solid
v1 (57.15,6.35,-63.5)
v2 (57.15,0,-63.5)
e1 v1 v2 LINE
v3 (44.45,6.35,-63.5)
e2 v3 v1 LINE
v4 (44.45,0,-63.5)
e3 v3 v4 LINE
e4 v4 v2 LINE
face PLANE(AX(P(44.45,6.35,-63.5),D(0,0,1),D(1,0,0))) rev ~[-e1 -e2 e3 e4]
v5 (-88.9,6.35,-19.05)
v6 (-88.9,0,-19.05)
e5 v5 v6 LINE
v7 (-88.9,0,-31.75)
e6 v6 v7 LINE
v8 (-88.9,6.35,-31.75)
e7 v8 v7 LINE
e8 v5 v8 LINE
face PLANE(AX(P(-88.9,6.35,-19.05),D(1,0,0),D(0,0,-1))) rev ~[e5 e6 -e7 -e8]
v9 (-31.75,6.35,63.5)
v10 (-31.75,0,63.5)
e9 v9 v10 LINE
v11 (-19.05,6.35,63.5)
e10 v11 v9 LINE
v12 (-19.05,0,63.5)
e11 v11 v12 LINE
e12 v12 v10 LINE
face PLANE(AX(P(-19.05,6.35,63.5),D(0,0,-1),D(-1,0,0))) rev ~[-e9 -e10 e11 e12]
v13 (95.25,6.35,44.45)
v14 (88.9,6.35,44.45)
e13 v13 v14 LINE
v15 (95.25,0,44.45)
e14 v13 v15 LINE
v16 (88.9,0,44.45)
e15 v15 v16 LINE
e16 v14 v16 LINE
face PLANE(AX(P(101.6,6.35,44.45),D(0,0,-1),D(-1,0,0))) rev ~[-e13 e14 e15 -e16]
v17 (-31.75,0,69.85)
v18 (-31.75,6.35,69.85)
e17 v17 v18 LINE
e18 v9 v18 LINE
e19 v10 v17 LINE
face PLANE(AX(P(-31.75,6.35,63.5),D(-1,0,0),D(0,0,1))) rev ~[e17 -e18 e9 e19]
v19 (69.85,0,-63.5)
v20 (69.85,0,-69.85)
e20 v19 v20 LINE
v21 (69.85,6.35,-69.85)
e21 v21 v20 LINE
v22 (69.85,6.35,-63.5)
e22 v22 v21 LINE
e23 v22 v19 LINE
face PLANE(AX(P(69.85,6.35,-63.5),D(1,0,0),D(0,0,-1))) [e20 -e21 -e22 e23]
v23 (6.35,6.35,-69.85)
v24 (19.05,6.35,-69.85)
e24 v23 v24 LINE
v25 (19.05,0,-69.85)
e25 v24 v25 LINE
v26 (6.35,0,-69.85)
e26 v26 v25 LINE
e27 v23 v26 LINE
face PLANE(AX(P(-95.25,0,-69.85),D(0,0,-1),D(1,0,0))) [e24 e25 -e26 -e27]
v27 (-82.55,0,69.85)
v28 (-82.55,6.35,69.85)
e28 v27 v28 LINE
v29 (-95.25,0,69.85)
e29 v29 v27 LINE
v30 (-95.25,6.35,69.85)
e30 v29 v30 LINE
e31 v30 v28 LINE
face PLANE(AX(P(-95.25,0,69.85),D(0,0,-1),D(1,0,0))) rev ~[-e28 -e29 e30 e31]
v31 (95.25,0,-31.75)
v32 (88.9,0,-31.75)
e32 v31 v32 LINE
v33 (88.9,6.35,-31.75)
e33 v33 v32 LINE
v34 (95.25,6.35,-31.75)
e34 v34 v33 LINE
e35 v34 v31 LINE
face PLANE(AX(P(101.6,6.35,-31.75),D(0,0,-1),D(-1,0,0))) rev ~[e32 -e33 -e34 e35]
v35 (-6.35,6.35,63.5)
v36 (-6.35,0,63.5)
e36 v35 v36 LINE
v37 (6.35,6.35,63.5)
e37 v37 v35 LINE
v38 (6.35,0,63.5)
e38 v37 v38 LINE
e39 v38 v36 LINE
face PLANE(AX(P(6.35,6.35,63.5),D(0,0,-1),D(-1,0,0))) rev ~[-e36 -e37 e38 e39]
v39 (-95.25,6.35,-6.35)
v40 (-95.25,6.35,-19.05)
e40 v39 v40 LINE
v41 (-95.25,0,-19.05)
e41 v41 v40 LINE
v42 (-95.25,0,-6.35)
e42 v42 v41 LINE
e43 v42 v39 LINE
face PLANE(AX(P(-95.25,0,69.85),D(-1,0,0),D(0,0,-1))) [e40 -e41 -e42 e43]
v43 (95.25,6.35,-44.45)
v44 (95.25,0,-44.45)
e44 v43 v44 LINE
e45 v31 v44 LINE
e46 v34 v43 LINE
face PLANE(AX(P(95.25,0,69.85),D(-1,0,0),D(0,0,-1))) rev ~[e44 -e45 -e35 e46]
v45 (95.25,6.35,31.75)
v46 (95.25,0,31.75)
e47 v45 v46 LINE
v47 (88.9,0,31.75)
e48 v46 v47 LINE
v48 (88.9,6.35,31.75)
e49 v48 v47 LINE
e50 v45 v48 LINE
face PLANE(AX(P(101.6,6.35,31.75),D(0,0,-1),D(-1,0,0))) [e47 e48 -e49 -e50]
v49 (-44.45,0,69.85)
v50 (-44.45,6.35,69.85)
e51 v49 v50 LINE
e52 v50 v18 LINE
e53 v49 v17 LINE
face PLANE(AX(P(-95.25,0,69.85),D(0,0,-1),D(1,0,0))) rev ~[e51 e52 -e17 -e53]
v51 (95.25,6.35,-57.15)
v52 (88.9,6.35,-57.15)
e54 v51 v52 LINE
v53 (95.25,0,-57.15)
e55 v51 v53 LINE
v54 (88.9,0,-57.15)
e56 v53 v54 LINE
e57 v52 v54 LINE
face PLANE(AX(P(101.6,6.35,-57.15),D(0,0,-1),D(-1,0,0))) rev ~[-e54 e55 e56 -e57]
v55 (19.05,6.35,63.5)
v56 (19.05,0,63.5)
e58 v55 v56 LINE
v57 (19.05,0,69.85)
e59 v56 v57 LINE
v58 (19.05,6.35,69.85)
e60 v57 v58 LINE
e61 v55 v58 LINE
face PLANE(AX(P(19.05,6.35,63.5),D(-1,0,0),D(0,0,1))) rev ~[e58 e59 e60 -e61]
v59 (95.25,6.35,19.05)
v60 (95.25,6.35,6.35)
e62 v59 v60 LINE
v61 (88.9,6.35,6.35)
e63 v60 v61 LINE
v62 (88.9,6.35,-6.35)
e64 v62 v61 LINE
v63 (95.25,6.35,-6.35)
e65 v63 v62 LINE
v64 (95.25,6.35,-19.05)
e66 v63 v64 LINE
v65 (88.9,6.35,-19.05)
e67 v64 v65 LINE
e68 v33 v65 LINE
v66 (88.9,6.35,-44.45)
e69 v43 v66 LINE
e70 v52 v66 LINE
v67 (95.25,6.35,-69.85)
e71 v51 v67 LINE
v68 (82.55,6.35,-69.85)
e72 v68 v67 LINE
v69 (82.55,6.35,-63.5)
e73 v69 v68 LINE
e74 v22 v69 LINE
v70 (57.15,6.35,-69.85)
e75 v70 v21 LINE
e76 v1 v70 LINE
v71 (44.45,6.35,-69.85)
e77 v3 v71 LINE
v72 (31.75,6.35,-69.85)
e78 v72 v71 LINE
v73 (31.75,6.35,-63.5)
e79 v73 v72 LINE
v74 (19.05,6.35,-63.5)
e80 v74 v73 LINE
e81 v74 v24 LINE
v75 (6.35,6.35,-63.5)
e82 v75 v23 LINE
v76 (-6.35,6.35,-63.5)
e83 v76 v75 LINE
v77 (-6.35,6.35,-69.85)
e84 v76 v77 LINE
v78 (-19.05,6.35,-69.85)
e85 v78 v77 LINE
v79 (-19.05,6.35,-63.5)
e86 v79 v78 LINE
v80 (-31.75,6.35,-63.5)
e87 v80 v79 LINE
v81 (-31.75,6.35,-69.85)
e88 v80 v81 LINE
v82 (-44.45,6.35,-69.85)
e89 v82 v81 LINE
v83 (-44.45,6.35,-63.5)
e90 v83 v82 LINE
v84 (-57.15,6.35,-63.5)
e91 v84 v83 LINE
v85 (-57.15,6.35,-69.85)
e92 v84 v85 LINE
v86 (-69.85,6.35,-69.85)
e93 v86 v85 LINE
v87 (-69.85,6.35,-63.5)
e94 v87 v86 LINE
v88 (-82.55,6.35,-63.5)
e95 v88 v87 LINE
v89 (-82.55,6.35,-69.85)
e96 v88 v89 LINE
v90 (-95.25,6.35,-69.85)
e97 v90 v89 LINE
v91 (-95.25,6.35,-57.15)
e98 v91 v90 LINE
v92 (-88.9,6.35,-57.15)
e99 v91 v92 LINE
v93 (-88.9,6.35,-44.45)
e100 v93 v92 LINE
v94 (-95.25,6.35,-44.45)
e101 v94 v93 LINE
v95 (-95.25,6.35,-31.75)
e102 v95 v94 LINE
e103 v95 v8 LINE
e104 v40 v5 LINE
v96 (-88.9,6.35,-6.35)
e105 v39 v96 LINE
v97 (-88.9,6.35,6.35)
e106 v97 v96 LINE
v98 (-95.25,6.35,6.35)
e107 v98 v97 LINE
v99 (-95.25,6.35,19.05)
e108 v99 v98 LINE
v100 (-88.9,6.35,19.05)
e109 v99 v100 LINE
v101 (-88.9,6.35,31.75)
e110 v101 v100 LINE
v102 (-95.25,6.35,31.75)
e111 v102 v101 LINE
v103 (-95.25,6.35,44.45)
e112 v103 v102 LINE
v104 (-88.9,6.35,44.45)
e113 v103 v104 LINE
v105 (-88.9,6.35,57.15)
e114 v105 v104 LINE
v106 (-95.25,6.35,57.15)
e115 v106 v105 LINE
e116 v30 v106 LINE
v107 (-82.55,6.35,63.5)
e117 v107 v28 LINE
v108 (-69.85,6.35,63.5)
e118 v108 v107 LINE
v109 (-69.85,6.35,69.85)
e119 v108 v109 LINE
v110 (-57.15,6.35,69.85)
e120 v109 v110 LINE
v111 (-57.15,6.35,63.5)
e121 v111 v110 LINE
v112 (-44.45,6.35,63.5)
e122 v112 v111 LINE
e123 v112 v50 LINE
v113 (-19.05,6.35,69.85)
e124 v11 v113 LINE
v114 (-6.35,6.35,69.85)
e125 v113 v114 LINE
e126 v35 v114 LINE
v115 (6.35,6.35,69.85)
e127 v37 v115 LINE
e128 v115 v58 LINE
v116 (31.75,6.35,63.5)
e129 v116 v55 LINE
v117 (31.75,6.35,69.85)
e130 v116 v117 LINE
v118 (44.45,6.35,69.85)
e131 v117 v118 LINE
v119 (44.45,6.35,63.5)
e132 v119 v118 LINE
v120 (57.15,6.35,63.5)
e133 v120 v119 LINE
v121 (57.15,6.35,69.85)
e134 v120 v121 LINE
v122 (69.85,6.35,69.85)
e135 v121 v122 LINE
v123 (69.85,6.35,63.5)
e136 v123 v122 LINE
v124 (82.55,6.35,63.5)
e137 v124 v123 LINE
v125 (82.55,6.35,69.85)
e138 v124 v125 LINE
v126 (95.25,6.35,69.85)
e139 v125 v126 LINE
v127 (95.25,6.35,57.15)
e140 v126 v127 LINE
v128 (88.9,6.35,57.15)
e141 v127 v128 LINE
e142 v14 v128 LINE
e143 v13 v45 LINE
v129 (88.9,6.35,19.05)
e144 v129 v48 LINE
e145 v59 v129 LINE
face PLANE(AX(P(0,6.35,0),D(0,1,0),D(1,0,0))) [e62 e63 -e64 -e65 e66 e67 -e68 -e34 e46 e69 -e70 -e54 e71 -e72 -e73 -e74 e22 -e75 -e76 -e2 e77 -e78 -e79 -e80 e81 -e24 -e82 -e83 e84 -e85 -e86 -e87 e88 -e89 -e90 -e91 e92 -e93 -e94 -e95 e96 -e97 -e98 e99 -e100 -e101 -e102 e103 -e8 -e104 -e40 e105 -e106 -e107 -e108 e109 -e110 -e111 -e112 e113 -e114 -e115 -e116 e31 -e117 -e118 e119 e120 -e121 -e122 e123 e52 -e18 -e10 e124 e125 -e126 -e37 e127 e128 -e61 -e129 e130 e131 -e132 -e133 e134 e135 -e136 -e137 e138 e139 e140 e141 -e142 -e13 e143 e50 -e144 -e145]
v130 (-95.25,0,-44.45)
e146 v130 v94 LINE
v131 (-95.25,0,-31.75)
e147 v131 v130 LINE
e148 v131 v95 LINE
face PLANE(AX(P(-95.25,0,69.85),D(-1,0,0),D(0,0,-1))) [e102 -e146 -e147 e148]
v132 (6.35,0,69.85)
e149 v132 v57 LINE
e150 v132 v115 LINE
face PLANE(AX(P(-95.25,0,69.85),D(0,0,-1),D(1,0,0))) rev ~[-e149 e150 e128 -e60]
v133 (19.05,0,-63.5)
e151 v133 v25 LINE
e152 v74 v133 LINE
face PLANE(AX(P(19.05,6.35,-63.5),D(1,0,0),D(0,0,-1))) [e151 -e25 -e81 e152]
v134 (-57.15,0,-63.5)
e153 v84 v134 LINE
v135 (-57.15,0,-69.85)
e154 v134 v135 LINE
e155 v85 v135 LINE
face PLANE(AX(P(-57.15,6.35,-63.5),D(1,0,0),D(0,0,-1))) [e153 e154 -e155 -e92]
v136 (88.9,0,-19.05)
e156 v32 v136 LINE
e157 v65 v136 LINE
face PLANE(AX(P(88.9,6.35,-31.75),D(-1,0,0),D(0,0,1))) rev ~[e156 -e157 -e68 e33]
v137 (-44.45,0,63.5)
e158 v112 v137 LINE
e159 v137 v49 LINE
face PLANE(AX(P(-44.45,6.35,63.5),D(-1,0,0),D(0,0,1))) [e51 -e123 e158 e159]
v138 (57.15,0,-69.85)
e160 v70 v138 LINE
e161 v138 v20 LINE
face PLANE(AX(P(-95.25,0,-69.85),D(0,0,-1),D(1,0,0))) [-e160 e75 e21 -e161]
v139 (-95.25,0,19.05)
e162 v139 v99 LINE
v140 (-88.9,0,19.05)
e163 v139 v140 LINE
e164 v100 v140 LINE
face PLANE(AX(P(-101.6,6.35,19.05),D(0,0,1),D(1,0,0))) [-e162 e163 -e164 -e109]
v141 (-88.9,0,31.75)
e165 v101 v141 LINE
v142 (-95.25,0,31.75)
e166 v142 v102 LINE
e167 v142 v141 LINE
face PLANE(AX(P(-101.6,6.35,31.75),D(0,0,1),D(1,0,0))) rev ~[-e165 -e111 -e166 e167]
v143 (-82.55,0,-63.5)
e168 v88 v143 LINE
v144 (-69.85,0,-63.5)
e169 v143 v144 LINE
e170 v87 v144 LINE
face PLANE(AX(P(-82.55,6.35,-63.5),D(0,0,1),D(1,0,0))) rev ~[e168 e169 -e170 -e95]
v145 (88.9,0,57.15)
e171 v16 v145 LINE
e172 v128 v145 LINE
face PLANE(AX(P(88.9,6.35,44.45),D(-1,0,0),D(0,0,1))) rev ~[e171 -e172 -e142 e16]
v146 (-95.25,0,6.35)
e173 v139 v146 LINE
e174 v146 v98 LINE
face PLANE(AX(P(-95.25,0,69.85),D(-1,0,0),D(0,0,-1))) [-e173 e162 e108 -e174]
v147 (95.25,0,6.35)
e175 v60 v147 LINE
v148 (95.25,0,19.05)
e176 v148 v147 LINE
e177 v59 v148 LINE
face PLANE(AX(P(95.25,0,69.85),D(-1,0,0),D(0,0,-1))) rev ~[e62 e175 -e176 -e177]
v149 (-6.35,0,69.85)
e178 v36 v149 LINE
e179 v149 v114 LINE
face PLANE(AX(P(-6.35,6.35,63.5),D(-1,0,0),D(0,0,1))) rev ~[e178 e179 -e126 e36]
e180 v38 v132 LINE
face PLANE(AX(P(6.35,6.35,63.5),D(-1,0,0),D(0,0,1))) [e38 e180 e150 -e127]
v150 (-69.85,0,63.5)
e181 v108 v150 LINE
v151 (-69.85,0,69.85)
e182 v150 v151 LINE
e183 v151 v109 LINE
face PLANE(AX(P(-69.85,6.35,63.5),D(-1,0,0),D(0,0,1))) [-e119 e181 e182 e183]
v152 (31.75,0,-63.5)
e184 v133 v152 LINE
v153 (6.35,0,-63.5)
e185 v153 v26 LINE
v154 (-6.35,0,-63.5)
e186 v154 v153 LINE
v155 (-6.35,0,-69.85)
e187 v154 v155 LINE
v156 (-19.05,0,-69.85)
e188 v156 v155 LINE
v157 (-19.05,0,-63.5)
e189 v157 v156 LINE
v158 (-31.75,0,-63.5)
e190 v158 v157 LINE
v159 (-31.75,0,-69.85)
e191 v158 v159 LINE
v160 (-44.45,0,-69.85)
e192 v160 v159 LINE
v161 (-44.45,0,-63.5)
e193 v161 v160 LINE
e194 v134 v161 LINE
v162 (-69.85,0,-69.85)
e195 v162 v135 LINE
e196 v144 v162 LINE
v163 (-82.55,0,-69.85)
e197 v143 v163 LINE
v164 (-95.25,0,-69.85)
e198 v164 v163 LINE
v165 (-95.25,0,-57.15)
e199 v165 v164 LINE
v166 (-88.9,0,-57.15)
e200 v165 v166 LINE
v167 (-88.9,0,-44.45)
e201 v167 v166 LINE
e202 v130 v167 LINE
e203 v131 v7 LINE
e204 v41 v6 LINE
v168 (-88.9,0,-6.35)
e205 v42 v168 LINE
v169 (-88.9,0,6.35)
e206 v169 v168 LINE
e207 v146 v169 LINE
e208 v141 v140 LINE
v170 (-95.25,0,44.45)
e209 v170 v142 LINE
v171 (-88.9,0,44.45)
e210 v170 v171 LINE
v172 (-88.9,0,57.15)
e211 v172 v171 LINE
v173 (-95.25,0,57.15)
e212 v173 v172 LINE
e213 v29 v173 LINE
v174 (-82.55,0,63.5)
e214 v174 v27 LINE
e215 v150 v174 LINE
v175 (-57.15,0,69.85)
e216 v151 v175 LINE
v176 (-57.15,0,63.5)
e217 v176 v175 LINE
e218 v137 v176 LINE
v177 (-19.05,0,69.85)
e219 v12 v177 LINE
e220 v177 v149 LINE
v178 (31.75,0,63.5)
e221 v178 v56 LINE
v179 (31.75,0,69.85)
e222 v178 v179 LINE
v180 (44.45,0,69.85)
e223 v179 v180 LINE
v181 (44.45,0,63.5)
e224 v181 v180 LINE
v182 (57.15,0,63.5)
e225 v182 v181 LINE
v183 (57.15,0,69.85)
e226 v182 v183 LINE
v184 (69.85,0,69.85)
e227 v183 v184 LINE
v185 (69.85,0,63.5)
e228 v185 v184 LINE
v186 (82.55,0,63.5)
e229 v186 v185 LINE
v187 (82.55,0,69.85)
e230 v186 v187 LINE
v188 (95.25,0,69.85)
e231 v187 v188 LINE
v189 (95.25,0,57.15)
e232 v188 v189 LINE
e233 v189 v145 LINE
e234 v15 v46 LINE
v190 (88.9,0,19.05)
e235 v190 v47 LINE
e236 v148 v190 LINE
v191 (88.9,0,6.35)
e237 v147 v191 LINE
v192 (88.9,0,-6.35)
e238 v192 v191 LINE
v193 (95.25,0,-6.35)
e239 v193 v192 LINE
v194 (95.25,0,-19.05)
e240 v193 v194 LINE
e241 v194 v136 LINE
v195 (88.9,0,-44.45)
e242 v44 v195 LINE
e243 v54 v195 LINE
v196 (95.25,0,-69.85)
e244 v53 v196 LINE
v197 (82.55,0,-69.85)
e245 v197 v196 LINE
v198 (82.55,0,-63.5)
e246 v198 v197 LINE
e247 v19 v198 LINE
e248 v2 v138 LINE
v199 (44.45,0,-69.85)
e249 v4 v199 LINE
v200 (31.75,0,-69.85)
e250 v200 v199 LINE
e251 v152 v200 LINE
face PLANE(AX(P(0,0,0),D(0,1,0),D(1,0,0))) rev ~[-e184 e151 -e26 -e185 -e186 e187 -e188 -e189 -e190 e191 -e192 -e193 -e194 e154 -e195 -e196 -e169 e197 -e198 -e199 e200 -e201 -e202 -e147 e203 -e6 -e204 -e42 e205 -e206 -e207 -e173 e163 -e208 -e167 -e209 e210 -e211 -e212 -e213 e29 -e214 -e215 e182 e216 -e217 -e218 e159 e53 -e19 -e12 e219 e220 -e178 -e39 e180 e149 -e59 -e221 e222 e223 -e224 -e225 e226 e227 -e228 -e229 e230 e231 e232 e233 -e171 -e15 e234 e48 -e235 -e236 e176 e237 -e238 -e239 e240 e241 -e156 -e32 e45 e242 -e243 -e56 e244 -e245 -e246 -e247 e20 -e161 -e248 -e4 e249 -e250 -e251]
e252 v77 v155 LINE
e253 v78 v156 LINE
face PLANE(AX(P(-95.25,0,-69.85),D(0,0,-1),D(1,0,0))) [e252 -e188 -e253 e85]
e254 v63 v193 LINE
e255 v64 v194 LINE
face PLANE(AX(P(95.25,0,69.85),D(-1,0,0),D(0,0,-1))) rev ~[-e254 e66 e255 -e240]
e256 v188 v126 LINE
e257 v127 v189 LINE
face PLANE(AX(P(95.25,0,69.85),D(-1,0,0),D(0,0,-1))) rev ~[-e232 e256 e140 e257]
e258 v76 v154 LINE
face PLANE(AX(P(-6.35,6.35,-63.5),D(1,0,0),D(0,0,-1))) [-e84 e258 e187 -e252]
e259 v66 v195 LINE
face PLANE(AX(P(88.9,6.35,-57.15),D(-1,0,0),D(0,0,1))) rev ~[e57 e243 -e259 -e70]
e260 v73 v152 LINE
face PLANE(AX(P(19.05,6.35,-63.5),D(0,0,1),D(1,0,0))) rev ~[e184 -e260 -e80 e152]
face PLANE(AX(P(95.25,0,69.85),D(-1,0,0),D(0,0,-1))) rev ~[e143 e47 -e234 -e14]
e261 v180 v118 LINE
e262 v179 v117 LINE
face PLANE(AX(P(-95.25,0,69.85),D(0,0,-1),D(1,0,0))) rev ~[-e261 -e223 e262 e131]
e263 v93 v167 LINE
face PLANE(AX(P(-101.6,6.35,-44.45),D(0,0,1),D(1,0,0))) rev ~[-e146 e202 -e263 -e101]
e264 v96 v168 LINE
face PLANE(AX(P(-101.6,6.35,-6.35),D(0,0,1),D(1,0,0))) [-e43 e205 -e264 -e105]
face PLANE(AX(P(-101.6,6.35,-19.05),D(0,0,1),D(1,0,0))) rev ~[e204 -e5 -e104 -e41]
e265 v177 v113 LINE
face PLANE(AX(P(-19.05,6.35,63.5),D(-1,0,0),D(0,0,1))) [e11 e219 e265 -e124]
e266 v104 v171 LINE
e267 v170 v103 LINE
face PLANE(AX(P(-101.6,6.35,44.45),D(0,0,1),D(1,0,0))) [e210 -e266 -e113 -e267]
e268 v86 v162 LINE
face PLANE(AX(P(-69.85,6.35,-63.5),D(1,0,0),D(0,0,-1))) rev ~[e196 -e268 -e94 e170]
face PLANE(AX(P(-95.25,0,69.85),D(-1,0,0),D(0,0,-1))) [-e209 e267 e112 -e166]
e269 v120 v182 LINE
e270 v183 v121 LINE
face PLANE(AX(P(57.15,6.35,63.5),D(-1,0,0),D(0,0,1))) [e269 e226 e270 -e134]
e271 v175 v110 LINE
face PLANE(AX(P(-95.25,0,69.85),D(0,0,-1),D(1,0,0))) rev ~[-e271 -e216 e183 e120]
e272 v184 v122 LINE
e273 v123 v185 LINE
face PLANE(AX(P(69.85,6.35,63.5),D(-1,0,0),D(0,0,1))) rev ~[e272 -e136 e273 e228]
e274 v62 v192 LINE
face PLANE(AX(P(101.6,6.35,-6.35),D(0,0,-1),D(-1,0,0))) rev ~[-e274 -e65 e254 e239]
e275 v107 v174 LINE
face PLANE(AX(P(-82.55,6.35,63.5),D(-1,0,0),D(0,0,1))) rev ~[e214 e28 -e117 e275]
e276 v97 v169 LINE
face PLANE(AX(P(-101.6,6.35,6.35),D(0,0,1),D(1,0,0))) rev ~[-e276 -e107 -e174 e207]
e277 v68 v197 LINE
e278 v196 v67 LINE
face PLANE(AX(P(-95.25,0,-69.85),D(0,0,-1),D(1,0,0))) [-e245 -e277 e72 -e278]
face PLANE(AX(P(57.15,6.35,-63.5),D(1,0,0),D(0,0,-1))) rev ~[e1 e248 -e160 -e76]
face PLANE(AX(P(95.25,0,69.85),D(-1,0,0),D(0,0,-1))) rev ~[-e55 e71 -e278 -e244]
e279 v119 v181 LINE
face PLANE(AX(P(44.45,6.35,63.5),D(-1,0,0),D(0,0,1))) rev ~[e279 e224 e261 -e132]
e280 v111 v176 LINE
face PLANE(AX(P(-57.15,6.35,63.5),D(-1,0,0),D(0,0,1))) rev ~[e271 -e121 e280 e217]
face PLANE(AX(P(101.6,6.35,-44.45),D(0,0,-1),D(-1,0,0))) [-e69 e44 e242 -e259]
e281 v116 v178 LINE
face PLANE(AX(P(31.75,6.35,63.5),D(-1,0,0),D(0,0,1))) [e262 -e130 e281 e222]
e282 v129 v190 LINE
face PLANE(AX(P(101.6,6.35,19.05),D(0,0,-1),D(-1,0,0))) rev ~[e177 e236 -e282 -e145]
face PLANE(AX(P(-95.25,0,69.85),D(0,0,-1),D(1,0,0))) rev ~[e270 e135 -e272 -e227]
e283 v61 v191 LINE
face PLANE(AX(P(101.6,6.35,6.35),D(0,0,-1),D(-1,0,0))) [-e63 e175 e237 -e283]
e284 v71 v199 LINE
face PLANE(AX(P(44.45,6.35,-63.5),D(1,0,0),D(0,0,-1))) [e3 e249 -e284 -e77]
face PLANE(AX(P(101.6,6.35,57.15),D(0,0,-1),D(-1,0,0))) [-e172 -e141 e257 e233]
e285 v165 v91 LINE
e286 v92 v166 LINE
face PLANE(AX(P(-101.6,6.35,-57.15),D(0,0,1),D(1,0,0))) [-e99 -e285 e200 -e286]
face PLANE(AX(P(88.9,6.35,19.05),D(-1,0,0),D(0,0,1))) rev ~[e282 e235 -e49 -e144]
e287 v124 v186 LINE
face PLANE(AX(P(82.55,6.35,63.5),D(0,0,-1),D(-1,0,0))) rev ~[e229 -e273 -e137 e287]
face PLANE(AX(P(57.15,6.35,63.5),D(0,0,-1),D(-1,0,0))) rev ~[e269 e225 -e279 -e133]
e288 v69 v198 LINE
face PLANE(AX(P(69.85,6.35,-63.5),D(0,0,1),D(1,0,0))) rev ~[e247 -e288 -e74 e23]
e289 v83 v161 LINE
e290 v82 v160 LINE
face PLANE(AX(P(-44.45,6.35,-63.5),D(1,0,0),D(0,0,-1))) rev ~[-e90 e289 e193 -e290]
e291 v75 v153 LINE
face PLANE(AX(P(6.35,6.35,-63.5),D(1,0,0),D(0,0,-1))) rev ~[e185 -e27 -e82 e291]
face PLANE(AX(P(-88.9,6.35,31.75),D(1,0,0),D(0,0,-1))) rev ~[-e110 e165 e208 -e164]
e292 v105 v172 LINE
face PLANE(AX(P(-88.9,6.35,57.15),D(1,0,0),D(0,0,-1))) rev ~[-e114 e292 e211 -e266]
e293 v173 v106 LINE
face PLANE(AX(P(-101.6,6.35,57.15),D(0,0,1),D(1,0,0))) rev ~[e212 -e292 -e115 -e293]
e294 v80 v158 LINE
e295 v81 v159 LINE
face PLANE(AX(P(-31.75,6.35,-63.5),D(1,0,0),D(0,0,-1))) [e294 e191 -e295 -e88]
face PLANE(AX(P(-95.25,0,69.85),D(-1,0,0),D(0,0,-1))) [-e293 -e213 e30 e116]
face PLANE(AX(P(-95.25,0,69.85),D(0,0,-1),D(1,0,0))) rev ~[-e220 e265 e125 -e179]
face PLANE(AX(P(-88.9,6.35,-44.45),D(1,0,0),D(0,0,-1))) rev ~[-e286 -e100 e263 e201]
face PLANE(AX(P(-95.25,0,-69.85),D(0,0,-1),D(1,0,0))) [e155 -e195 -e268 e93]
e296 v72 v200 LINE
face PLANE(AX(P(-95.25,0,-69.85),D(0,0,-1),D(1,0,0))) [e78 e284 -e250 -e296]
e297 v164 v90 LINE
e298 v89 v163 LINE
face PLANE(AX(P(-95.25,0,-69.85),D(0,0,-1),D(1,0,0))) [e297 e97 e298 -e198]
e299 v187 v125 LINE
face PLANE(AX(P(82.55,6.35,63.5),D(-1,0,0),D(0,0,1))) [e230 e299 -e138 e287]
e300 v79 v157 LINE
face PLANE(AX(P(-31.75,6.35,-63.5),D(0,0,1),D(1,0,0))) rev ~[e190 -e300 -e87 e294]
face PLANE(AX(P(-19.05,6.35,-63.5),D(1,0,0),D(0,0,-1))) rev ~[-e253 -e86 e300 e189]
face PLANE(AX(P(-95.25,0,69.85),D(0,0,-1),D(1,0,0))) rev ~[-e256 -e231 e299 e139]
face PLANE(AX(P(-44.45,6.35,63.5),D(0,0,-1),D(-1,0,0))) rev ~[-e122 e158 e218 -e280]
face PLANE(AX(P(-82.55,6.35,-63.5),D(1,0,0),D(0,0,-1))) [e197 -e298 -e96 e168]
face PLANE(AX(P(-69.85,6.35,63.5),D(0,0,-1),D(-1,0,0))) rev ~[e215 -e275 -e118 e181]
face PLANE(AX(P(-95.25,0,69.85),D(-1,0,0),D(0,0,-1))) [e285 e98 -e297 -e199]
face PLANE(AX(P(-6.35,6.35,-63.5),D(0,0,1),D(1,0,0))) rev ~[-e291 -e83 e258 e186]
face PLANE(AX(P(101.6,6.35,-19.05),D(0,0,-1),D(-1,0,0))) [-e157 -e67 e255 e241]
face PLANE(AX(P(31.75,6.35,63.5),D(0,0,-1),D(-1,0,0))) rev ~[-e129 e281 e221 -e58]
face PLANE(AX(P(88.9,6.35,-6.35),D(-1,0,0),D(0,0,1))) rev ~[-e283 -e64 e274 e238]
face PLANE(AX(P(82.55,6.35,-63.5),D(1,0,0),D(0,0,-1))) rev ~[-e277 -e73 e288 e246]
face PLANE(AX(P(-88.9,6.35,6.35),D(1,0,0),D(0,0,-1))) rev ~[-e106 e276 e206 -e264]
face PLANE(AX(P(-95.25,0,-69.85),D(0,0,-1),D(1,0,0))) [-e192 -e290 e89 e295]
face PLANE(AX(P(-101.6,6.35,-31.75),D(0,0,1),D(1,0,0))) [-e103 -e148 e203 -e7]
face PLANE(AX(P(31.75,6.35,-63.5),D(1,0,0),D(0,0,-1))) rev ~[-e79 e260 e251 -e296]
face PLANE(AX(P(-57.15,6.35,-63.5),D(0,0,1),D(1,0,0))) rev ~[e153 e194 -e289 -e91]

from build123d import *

# Parameters (mm, degrees)
SKETCH1_W                   = 190.5
SKETCH1_H                   = 139.7
BOSS_EXTRUDE1_DEPTH         = 6.35
CUT_EXTRUDE1_REACH          = 120.287
SKETCH2_W                   = 12.7
SKETCH2_H                   = 12.7
LPATTERN1_COUNT             = 4
LPATTERN1_PITCH             = 25.4
LPATTERN2_COUNT             = 4
LPATTERN2_PITCH             = 25.4
CIRPATTERN1_COUNT           = 2
CIRPATTERN1_COPY_1_REACH    = 120.287
CIRPATTERN1_COPY_1_SKETCH_W = 12.7
CIRPATTERN1_COPY_1_SKETCH_H = 12.7
CIRPATTERN1_COPY_2_REACH    = 120.287
CIRPATTERN1_COPY_2_SKETCH_W = 12.7
CIRPATTERN1_COPY_2_SKETCH_H = 12.7
CIRPATTERN1_COPY_3_REACH    = 120.287
CIRPATTERN1_COPY_3_SKETCH_W = 12.7
CIRPATTERN1_COPY_3_SKETCH_H = 12.7
CIRPATTERN1_COPY_4_REACH    = 120.287
CIRPATTERN1_COPY_4_SKETCH_W = 12.7
CIRPATTERN1_COPY_4_SKETCH_H = 12.7
CIRPATTERN1_COPY_5_REACH    = 120.287
CIRPATTERN1_COPY_5_SKETCH_W = 12.7
CIRPATTERN1_COPY_5_SKETCH_H = 12.7
CIRPATTERN1_COPY_6_REACH    = 120.287
CIRPATTERN1_COPY_6_SKETCH_W = 12.7
CIRPATTERN1_COPY_6_SKETCH_H = 12.7
CUT_EXTRUDE2_REACH          = 120.287
SKETCH3_W                   = 12.7
SKETCH3_H                   = 12.7
LPATTERN3_COUNT             = 3
LPATTERN3_PITCH             = 25.4
LPATTERN4_COUNT             = 3
LPATTERN4_PITCH             = 25.4
CIRPATTERN2_COUNT           = 2
CIRPATTERN2_COPY_1_REACH    = 120.287
CIRPATTERN2_COPY_1_SKETCH_W = 12.7
CIRPATTERN2_COPY_1_SKETCH_H = 12.7
CIRPATTERN2_COPY_2_REACH    = 120.287
CIRPATTERN2_COPY_2_SKETCH_W = 12.7
CIRPATTERN2_COPY_2_SKETCH_H = 12.7
CIRPATTERN2_COPY_3_REACH    = 120.287
CIRPATTERN2_COPY_3_SKETCH_W = 12.7
CIRPATTERN2_COPY_3_SKETCH_H = 12.7
CIRPATTERN2_COPY_4_REACH    = 120.287
CIRPATTERN2_COPY_4_SKETCH_W = 12.7
CIRPATTERN2_COPY_4_SKETCH_H = 12.7


with BuildPart() as part:
    # Sketch1 → Boss-Extrude1 (new body)
    with BuildSketch(Plane(origin=(0, 0, 0), x_dir=(1, 0, 0), z_dir=(0, 1, 0))):
        Rectangle(SKETCH1_W, SKETCH1_H)
    extrude(amount=BOSS_EXTRUDE1_DEPTH)

    # Sketch2 → Cut-Extrude1 (cut, up to next)
    with BuildSketch(Plane(origin=(0, 6.35, 0), x_dir=(1, 0, 0), z_dir=(0, 1, 0)), mode=Mode.PRIVATE) as cut_extrude1_sk1:
        with Locations((0, 69.85)):
            Rectangle(SKETCH2_W, SKETCH2_H)
    cut_extrude1_tool1 = extrude(cut_extrude1_sk1.sketch, amount=-CUT_EXTRUDE1_REACH, mode=Mode.PRIVATE) & part.part
    cut_extrude1 = cut_extrude1_tool1.solids().sort_by_distance((0, 6.35, -69.85))[0]
    add(cut_extrude1, mode=Mode.SUBTRACT)

    # LPattern1: Cut-Extrude1 ×4
    with Locations(*[(-i * LPATTERN1_PITCH, 0, 0) for i in range(1, LPATTERN1_COUNT)]):
        add(cut_extrude1, mode=Mode.SUBTRACT)

    # LPattern2: Cut-Extrude1 ×4
    with Locations(*[(i * LPATTERN2_PITCH, 0, 0) for i in range(1, LPATTERN2_COUNT)]):
        add(cut_extrude1, mode=Mode.SUBTRACT)

    # CirPattern1: Cut-Extrude1 ×2 about axis
    cirpattern1_axis = Axis((0, 0, 0), (0, 1, 0))
    for i in range(1, CIRPATTERN1_COUNT):
        add(cut_extrude1.rotate(cirpattern1_axis, i * 360 / CIRPATTERN1_COUNT), mode=Mode.SUBTRACT)

    # CirPattern1 copy 1 sketch → CirPattern1 copy 1 (cut, up to next)
    with BuildSketch(Plane(origin=(25.4, 6.35, 0), x_dir=(-1, 0, 0), z_dir=(0, 1, 0)), mode=Mode.PRIVATE) as cirpattern1_copy_1_sk1:
        with Locations((0, 69.85)):
            Rectangle(CIRPATTERN1_COPY_1_SKETCH_W, CIRPATTERN1_COPY_1_SKETCH_H)
    cirpattern1_copy_1_tool1 = extrude(cirpattern1_copy_1_sk1.sketch, amount=-CIRPATTERN1_COPY_1_REACH, mode=Mode.PRIVATE) & part.part
    add(cirpattern1_copy_1_tool1.solids().sort_by_distance((25.4, 6.35, 69.85))[0], mode=Mode.SUBTRACT)

    # CirPattern1 copy 2 sketch → CirPattern1 copy 2 (cut, up to next)
    with BuildSketch(Plane(origin=(50.8, 6.35, 0), x_dir=(-1, 0, 0), z_dir=(0, 1, 0)), mode=Mode.PRIVATE) as cirpattern1_copy_2_sk1:
        with Locations((0, 69.85)):
            Rectangle(CIRPATTERN1_COPY_2_SKETCH_W, CIRPATTERN1_COPY_2_SKETCH_H)
    cirpattern1_copy_2_tool1 = extrude(cirpattern1_copy_2_sk1.sketch, amount=-CIRPATTERN1_COPY_2_REACH, mode=Mode.PRIVATE) & part.part
    add(cirpattern1_copy_2_tool1.solids().sort_by_distance((50.8, 6.35, 69.85))[0], mode=Mode.SUBTRACT)

    # CirPattern1 copy 3 sketch → CirPattern1 copy 3 (cut, up to next)
    with BuildSketch(Plane(origin=(76.2, 6.35, 0), x_dir=(-1, 0, 0), z_dir=(0, 1, 0)), mode=Mode.PRIVATE) as cirpattern1_copy_3_sk1:
        with Locations((0, 69.85)):
            Rectangle(CIRPATTERN1_COPY_3_SKETCH_W, CIRPATTERN1_COPY_3_SKETCH_H)
    cirpattern1_copy_3_tool1 = extrude(cirpattern1_copy_3_sk1.sketch, amount=-CIRPATTERN1_COPY_3_REACH, mode=Mode.PRIVATE) & part.part
    add(cirpattern1_copy_3_tool1.solids().sort_by_distance((76.2, 6.35, 69.85))[0], mode=Mode.SUBTRACT)

    # CirPattern1 copy 4 sketch → CirPattern1 copy 4 (cut, up to next)
    with BuildSketch(Plane(origin=(-25.4, 6.35, 0), x_dir=(-1, 0, 0), z_dir=(0, 1, 0)), mode=Mode.PRIVATE) as cirpattern1_copy_4_sk1:
        with Locations((0, 69.85)):
            Rectangle(CIRPATTERN1_COPY_4_SKETCH_W, CIRPATTERN1_COPY_4_SKETCH_H)
    cirpattern1_copy_4_tool1 = extrude(cirpattern1_copy_4_sk1.sketch, amount=-CIRPATTERN1_COPY_4_REACH, mode=Mode.PRIVATE) & part.part
    add(cirpattern1_copy_4_tool1.solids().sort_by_distance((-25.4, 6.35, 69.85))[0], mode=Mode.SUBTRACT)

    # CirPattern1 copy 5 sketch → CirPattern1 copy 5 (cut, up to next)
    with BuildSketch(Plane(origin=(-50.8, 6.35, 0), x_dir=(-1, 0, 0), z_dir=(0, 1, 0)), mode=Mode.PRIVATE) as cirpattern1_copy_5_sk1:
        with Locations((0, 69.85)):
            Rectangle(CIRPATTERN1_COPY_5_SKETCH_W, CIRPATTERN1_COPY_5_SKETCH_H)
    cirpattern1_copy_5_tool1 = extrude(cirpattern1_copy_5_sk1.sketch, amount=-CIRPATTERN1_COPY_5_REACH, mode=Mode.PRIVATE) & part.part
    add(cirpattern1_copy_5_tool1.solids().sort_by_distance((-50.8, 6.35, 69.85))[0], mode=Mode.SUBTRACT)

    # CirPattern1 copy 6 sketch → CirPattern1 copy 6 (cut, up to next)
    with BuildSketch(Plane(origin=(-76.2, 6.35, 0), x_dir=(-1, 0, 0), z_dir=(0, 1, 0)), mode=Mode.PRIVATE) as cirpattern1_copy_6_sk1:
        with Locations((0, 69.85)):
            Rectangle(CIRPATTERN1_COPY_6_SKETCH_W, CIRPATTERN1_COPY_6_SKETCH_H)
    cirpattern1_copy_6_tool1 = extrude(cirpattern1_copy_6_sk1.sketch, amount=-CIRPATTERN1_COPY_6_REACH, mode=Mode.PRIVATE) & part.part
    add(cirpattern1_copy_6_tool1.solids().sort_by_distance((-76.2, 6.35, 69.85))[0], mode=Mode.SUBTRACT)

    # Sketch3 → Cut-Extrude2 (cut, up to next)
    with BuildSketch(Plane(origin=(0, 6.35, 0), x_dir=(1, 0, 0), z_dir=(0, 1, 0)), mode=Mode.PRIVATE) as cut_extrude2_sk1:
        with Locations((-95.25, 0)):
            Rectangle(SKETCH3_W, SKETCH3_H)
    cut_extrude2_tool1 = extrude(cut_extrude2_sk1.sketch, amount=-CUT_EXTRUDE2_REACH, mode=Mode.PRIVATE) & part.part
    cut_extrude2 = cut_extrude2_tool1.solids().sort_by_distance((-95.25, 6.35, 0))[0]
    add(cut_extrude2, mode=Mode.SUBTRACT)

    # LPattern3: Cut-Extrude2 ×3
    with Locations(*[(0, 0, -i * LPATTERN3_PITCH) for i in range(1, LPATTERN3_COUNT)]):
        add(cut_extrude2, mode=Mode.SUBTRACT)

    # LPattern4: Cut-Extrude2 ×3
    with Locations(*[(0, 0, i * LPATTERN4_PITCH) for i in range(1, LPATTERN4_COUNT)]):
        add(cut_extrude2, mode=Mode.SUBTRACT)

    # CirPattern2: Cut-Extrude2 ×2 about axis
    cirpattern2_axis = Axis((0, 0, 0), (0, 1, 0))
    for i in range(1, CIRPATTERN2_COUNT):
        add(cut_extrude2.rotate(cirpattern2_axis, i * 360 / CIRPATTERN2_COUNT), mode=Mode.SUBTRACT)

    # CirPattern2 copy 1 sketch → CirPattern2 copy 1 (cut, up to next)
    with BuildSketch(Plane(origin=(0, 6.35, 25.4), x_dir=(-1, 0, 0), z_dir=(0, 1, 0)), mode=Mode.PRIVATE) as cirpattern2_copy_1_sk1:
        with Locations((-95.25, 0)):
            Rectangle(CIRPATTERN2_COPY_1_SKETCH_W, CIRPATTERN2_COPY_1_SKETCH_H)
    cirpattern2_copy_1_tool1 = extrude(cirpattern2_copy_1_sk1.sketch, amount=-CIRPATTERN2_COPY_1_REACH, mode=Mode.PRIVATE) & part.part
    add(cirpattern2_copy_1_tool1.solids().sort_by_distance((95.25, 6.35, 25.4))[0], mode=Mode.SUBTRACT)

    # CirPattern2 copy 2 sketch → CirPattern2 copy 2 (cut, up to next)
    with BuildSketch(Plane(origin=(0, 6.35, 50.8), x_dir=(-1, 0, 0), z_dir=(0, 1, 0)), mode=Mode.PRIVATE) as cirpattern2_copy_2_sk1:
        with Locations((-95.25, 0)):
            Rectangle(CIRPATTERN2_COPY_2_SKETCH_W, CIRPATTERN2_COPY_2_SKETCH_H)
    cirpattern2_copy_2_tool1 = extrude(cirpattern2_copy_2_sk1.sketch, amount=-CIRPATTERN2_COPY_2_REACH, mode=Mode.PRIVATE) & part.part
    add(cirpattern2_copy_2_tool1.solids().sort_by_distance((95.25, 6.35, 50.8))[0], mode=Mode.SUBTRACT)

    # CirPattern2 copy 3 sketch → CirPattern2 copy 3 (cut, up to next)
    with BuildSketch(Plane(origin=(0, 6.35, -25.4), x_dir=(-1, 0, 0), z_dir=(0, 1, 0)), mode=Mode.PRIVATE) as cirpattern2_copy_3_sk1:
        with Locations((-95.25, 0)):
            Rectangle(CIRPATTERN2_COPY_3_SKETCH_W, CIRPATTERN2_COPY_3_SKETCH_H)
    cirpattern2_copy_3_tool1 = extrude(cirpattern2_copy_3_sk1.sketch, amount=-CIRPATTERN2_COPY_3_REACH, mode=Mode.PRIVATE) & part.part
    add(cirpattern2_copy_3_tool1.solids().sort_by_distance((95.25, 6.35, -25.4))[0], mode=Mode.SUBTRACT)

    # CirPattern2 copy 4 sketch → CirPattern2 copy 4 (cut, up to next)
    with BuildSketch(Plane(origin=(0, 6.35, -50.8), x_dir=(-1, 0, 0), z_dir=(0, 1, 0)), mode=Mode.PRIVATE) as cirpattern2_copy_4_sk1:
        with Locations((-95.25, 0)):
            Rectangle(CIRPATTERN2_COPY_4_SKETCH_W, CIRPATTERN2_COPY_4_SKETCH_H)
    cirpattern2_copy_4_tool1 = extrude(cirpattern2_copy_4_sk1.sketch, amount=-CIRPATTERN2_COPY_4_REACH, mode=Mode.PRIVATE) & part.part
    add(cirpattern2_copy_4_tool1.solids().sort_by_distance((95.25, 6.35, -50.8))[0], mode=Mode.SUBTRACT)


solid = part.part
